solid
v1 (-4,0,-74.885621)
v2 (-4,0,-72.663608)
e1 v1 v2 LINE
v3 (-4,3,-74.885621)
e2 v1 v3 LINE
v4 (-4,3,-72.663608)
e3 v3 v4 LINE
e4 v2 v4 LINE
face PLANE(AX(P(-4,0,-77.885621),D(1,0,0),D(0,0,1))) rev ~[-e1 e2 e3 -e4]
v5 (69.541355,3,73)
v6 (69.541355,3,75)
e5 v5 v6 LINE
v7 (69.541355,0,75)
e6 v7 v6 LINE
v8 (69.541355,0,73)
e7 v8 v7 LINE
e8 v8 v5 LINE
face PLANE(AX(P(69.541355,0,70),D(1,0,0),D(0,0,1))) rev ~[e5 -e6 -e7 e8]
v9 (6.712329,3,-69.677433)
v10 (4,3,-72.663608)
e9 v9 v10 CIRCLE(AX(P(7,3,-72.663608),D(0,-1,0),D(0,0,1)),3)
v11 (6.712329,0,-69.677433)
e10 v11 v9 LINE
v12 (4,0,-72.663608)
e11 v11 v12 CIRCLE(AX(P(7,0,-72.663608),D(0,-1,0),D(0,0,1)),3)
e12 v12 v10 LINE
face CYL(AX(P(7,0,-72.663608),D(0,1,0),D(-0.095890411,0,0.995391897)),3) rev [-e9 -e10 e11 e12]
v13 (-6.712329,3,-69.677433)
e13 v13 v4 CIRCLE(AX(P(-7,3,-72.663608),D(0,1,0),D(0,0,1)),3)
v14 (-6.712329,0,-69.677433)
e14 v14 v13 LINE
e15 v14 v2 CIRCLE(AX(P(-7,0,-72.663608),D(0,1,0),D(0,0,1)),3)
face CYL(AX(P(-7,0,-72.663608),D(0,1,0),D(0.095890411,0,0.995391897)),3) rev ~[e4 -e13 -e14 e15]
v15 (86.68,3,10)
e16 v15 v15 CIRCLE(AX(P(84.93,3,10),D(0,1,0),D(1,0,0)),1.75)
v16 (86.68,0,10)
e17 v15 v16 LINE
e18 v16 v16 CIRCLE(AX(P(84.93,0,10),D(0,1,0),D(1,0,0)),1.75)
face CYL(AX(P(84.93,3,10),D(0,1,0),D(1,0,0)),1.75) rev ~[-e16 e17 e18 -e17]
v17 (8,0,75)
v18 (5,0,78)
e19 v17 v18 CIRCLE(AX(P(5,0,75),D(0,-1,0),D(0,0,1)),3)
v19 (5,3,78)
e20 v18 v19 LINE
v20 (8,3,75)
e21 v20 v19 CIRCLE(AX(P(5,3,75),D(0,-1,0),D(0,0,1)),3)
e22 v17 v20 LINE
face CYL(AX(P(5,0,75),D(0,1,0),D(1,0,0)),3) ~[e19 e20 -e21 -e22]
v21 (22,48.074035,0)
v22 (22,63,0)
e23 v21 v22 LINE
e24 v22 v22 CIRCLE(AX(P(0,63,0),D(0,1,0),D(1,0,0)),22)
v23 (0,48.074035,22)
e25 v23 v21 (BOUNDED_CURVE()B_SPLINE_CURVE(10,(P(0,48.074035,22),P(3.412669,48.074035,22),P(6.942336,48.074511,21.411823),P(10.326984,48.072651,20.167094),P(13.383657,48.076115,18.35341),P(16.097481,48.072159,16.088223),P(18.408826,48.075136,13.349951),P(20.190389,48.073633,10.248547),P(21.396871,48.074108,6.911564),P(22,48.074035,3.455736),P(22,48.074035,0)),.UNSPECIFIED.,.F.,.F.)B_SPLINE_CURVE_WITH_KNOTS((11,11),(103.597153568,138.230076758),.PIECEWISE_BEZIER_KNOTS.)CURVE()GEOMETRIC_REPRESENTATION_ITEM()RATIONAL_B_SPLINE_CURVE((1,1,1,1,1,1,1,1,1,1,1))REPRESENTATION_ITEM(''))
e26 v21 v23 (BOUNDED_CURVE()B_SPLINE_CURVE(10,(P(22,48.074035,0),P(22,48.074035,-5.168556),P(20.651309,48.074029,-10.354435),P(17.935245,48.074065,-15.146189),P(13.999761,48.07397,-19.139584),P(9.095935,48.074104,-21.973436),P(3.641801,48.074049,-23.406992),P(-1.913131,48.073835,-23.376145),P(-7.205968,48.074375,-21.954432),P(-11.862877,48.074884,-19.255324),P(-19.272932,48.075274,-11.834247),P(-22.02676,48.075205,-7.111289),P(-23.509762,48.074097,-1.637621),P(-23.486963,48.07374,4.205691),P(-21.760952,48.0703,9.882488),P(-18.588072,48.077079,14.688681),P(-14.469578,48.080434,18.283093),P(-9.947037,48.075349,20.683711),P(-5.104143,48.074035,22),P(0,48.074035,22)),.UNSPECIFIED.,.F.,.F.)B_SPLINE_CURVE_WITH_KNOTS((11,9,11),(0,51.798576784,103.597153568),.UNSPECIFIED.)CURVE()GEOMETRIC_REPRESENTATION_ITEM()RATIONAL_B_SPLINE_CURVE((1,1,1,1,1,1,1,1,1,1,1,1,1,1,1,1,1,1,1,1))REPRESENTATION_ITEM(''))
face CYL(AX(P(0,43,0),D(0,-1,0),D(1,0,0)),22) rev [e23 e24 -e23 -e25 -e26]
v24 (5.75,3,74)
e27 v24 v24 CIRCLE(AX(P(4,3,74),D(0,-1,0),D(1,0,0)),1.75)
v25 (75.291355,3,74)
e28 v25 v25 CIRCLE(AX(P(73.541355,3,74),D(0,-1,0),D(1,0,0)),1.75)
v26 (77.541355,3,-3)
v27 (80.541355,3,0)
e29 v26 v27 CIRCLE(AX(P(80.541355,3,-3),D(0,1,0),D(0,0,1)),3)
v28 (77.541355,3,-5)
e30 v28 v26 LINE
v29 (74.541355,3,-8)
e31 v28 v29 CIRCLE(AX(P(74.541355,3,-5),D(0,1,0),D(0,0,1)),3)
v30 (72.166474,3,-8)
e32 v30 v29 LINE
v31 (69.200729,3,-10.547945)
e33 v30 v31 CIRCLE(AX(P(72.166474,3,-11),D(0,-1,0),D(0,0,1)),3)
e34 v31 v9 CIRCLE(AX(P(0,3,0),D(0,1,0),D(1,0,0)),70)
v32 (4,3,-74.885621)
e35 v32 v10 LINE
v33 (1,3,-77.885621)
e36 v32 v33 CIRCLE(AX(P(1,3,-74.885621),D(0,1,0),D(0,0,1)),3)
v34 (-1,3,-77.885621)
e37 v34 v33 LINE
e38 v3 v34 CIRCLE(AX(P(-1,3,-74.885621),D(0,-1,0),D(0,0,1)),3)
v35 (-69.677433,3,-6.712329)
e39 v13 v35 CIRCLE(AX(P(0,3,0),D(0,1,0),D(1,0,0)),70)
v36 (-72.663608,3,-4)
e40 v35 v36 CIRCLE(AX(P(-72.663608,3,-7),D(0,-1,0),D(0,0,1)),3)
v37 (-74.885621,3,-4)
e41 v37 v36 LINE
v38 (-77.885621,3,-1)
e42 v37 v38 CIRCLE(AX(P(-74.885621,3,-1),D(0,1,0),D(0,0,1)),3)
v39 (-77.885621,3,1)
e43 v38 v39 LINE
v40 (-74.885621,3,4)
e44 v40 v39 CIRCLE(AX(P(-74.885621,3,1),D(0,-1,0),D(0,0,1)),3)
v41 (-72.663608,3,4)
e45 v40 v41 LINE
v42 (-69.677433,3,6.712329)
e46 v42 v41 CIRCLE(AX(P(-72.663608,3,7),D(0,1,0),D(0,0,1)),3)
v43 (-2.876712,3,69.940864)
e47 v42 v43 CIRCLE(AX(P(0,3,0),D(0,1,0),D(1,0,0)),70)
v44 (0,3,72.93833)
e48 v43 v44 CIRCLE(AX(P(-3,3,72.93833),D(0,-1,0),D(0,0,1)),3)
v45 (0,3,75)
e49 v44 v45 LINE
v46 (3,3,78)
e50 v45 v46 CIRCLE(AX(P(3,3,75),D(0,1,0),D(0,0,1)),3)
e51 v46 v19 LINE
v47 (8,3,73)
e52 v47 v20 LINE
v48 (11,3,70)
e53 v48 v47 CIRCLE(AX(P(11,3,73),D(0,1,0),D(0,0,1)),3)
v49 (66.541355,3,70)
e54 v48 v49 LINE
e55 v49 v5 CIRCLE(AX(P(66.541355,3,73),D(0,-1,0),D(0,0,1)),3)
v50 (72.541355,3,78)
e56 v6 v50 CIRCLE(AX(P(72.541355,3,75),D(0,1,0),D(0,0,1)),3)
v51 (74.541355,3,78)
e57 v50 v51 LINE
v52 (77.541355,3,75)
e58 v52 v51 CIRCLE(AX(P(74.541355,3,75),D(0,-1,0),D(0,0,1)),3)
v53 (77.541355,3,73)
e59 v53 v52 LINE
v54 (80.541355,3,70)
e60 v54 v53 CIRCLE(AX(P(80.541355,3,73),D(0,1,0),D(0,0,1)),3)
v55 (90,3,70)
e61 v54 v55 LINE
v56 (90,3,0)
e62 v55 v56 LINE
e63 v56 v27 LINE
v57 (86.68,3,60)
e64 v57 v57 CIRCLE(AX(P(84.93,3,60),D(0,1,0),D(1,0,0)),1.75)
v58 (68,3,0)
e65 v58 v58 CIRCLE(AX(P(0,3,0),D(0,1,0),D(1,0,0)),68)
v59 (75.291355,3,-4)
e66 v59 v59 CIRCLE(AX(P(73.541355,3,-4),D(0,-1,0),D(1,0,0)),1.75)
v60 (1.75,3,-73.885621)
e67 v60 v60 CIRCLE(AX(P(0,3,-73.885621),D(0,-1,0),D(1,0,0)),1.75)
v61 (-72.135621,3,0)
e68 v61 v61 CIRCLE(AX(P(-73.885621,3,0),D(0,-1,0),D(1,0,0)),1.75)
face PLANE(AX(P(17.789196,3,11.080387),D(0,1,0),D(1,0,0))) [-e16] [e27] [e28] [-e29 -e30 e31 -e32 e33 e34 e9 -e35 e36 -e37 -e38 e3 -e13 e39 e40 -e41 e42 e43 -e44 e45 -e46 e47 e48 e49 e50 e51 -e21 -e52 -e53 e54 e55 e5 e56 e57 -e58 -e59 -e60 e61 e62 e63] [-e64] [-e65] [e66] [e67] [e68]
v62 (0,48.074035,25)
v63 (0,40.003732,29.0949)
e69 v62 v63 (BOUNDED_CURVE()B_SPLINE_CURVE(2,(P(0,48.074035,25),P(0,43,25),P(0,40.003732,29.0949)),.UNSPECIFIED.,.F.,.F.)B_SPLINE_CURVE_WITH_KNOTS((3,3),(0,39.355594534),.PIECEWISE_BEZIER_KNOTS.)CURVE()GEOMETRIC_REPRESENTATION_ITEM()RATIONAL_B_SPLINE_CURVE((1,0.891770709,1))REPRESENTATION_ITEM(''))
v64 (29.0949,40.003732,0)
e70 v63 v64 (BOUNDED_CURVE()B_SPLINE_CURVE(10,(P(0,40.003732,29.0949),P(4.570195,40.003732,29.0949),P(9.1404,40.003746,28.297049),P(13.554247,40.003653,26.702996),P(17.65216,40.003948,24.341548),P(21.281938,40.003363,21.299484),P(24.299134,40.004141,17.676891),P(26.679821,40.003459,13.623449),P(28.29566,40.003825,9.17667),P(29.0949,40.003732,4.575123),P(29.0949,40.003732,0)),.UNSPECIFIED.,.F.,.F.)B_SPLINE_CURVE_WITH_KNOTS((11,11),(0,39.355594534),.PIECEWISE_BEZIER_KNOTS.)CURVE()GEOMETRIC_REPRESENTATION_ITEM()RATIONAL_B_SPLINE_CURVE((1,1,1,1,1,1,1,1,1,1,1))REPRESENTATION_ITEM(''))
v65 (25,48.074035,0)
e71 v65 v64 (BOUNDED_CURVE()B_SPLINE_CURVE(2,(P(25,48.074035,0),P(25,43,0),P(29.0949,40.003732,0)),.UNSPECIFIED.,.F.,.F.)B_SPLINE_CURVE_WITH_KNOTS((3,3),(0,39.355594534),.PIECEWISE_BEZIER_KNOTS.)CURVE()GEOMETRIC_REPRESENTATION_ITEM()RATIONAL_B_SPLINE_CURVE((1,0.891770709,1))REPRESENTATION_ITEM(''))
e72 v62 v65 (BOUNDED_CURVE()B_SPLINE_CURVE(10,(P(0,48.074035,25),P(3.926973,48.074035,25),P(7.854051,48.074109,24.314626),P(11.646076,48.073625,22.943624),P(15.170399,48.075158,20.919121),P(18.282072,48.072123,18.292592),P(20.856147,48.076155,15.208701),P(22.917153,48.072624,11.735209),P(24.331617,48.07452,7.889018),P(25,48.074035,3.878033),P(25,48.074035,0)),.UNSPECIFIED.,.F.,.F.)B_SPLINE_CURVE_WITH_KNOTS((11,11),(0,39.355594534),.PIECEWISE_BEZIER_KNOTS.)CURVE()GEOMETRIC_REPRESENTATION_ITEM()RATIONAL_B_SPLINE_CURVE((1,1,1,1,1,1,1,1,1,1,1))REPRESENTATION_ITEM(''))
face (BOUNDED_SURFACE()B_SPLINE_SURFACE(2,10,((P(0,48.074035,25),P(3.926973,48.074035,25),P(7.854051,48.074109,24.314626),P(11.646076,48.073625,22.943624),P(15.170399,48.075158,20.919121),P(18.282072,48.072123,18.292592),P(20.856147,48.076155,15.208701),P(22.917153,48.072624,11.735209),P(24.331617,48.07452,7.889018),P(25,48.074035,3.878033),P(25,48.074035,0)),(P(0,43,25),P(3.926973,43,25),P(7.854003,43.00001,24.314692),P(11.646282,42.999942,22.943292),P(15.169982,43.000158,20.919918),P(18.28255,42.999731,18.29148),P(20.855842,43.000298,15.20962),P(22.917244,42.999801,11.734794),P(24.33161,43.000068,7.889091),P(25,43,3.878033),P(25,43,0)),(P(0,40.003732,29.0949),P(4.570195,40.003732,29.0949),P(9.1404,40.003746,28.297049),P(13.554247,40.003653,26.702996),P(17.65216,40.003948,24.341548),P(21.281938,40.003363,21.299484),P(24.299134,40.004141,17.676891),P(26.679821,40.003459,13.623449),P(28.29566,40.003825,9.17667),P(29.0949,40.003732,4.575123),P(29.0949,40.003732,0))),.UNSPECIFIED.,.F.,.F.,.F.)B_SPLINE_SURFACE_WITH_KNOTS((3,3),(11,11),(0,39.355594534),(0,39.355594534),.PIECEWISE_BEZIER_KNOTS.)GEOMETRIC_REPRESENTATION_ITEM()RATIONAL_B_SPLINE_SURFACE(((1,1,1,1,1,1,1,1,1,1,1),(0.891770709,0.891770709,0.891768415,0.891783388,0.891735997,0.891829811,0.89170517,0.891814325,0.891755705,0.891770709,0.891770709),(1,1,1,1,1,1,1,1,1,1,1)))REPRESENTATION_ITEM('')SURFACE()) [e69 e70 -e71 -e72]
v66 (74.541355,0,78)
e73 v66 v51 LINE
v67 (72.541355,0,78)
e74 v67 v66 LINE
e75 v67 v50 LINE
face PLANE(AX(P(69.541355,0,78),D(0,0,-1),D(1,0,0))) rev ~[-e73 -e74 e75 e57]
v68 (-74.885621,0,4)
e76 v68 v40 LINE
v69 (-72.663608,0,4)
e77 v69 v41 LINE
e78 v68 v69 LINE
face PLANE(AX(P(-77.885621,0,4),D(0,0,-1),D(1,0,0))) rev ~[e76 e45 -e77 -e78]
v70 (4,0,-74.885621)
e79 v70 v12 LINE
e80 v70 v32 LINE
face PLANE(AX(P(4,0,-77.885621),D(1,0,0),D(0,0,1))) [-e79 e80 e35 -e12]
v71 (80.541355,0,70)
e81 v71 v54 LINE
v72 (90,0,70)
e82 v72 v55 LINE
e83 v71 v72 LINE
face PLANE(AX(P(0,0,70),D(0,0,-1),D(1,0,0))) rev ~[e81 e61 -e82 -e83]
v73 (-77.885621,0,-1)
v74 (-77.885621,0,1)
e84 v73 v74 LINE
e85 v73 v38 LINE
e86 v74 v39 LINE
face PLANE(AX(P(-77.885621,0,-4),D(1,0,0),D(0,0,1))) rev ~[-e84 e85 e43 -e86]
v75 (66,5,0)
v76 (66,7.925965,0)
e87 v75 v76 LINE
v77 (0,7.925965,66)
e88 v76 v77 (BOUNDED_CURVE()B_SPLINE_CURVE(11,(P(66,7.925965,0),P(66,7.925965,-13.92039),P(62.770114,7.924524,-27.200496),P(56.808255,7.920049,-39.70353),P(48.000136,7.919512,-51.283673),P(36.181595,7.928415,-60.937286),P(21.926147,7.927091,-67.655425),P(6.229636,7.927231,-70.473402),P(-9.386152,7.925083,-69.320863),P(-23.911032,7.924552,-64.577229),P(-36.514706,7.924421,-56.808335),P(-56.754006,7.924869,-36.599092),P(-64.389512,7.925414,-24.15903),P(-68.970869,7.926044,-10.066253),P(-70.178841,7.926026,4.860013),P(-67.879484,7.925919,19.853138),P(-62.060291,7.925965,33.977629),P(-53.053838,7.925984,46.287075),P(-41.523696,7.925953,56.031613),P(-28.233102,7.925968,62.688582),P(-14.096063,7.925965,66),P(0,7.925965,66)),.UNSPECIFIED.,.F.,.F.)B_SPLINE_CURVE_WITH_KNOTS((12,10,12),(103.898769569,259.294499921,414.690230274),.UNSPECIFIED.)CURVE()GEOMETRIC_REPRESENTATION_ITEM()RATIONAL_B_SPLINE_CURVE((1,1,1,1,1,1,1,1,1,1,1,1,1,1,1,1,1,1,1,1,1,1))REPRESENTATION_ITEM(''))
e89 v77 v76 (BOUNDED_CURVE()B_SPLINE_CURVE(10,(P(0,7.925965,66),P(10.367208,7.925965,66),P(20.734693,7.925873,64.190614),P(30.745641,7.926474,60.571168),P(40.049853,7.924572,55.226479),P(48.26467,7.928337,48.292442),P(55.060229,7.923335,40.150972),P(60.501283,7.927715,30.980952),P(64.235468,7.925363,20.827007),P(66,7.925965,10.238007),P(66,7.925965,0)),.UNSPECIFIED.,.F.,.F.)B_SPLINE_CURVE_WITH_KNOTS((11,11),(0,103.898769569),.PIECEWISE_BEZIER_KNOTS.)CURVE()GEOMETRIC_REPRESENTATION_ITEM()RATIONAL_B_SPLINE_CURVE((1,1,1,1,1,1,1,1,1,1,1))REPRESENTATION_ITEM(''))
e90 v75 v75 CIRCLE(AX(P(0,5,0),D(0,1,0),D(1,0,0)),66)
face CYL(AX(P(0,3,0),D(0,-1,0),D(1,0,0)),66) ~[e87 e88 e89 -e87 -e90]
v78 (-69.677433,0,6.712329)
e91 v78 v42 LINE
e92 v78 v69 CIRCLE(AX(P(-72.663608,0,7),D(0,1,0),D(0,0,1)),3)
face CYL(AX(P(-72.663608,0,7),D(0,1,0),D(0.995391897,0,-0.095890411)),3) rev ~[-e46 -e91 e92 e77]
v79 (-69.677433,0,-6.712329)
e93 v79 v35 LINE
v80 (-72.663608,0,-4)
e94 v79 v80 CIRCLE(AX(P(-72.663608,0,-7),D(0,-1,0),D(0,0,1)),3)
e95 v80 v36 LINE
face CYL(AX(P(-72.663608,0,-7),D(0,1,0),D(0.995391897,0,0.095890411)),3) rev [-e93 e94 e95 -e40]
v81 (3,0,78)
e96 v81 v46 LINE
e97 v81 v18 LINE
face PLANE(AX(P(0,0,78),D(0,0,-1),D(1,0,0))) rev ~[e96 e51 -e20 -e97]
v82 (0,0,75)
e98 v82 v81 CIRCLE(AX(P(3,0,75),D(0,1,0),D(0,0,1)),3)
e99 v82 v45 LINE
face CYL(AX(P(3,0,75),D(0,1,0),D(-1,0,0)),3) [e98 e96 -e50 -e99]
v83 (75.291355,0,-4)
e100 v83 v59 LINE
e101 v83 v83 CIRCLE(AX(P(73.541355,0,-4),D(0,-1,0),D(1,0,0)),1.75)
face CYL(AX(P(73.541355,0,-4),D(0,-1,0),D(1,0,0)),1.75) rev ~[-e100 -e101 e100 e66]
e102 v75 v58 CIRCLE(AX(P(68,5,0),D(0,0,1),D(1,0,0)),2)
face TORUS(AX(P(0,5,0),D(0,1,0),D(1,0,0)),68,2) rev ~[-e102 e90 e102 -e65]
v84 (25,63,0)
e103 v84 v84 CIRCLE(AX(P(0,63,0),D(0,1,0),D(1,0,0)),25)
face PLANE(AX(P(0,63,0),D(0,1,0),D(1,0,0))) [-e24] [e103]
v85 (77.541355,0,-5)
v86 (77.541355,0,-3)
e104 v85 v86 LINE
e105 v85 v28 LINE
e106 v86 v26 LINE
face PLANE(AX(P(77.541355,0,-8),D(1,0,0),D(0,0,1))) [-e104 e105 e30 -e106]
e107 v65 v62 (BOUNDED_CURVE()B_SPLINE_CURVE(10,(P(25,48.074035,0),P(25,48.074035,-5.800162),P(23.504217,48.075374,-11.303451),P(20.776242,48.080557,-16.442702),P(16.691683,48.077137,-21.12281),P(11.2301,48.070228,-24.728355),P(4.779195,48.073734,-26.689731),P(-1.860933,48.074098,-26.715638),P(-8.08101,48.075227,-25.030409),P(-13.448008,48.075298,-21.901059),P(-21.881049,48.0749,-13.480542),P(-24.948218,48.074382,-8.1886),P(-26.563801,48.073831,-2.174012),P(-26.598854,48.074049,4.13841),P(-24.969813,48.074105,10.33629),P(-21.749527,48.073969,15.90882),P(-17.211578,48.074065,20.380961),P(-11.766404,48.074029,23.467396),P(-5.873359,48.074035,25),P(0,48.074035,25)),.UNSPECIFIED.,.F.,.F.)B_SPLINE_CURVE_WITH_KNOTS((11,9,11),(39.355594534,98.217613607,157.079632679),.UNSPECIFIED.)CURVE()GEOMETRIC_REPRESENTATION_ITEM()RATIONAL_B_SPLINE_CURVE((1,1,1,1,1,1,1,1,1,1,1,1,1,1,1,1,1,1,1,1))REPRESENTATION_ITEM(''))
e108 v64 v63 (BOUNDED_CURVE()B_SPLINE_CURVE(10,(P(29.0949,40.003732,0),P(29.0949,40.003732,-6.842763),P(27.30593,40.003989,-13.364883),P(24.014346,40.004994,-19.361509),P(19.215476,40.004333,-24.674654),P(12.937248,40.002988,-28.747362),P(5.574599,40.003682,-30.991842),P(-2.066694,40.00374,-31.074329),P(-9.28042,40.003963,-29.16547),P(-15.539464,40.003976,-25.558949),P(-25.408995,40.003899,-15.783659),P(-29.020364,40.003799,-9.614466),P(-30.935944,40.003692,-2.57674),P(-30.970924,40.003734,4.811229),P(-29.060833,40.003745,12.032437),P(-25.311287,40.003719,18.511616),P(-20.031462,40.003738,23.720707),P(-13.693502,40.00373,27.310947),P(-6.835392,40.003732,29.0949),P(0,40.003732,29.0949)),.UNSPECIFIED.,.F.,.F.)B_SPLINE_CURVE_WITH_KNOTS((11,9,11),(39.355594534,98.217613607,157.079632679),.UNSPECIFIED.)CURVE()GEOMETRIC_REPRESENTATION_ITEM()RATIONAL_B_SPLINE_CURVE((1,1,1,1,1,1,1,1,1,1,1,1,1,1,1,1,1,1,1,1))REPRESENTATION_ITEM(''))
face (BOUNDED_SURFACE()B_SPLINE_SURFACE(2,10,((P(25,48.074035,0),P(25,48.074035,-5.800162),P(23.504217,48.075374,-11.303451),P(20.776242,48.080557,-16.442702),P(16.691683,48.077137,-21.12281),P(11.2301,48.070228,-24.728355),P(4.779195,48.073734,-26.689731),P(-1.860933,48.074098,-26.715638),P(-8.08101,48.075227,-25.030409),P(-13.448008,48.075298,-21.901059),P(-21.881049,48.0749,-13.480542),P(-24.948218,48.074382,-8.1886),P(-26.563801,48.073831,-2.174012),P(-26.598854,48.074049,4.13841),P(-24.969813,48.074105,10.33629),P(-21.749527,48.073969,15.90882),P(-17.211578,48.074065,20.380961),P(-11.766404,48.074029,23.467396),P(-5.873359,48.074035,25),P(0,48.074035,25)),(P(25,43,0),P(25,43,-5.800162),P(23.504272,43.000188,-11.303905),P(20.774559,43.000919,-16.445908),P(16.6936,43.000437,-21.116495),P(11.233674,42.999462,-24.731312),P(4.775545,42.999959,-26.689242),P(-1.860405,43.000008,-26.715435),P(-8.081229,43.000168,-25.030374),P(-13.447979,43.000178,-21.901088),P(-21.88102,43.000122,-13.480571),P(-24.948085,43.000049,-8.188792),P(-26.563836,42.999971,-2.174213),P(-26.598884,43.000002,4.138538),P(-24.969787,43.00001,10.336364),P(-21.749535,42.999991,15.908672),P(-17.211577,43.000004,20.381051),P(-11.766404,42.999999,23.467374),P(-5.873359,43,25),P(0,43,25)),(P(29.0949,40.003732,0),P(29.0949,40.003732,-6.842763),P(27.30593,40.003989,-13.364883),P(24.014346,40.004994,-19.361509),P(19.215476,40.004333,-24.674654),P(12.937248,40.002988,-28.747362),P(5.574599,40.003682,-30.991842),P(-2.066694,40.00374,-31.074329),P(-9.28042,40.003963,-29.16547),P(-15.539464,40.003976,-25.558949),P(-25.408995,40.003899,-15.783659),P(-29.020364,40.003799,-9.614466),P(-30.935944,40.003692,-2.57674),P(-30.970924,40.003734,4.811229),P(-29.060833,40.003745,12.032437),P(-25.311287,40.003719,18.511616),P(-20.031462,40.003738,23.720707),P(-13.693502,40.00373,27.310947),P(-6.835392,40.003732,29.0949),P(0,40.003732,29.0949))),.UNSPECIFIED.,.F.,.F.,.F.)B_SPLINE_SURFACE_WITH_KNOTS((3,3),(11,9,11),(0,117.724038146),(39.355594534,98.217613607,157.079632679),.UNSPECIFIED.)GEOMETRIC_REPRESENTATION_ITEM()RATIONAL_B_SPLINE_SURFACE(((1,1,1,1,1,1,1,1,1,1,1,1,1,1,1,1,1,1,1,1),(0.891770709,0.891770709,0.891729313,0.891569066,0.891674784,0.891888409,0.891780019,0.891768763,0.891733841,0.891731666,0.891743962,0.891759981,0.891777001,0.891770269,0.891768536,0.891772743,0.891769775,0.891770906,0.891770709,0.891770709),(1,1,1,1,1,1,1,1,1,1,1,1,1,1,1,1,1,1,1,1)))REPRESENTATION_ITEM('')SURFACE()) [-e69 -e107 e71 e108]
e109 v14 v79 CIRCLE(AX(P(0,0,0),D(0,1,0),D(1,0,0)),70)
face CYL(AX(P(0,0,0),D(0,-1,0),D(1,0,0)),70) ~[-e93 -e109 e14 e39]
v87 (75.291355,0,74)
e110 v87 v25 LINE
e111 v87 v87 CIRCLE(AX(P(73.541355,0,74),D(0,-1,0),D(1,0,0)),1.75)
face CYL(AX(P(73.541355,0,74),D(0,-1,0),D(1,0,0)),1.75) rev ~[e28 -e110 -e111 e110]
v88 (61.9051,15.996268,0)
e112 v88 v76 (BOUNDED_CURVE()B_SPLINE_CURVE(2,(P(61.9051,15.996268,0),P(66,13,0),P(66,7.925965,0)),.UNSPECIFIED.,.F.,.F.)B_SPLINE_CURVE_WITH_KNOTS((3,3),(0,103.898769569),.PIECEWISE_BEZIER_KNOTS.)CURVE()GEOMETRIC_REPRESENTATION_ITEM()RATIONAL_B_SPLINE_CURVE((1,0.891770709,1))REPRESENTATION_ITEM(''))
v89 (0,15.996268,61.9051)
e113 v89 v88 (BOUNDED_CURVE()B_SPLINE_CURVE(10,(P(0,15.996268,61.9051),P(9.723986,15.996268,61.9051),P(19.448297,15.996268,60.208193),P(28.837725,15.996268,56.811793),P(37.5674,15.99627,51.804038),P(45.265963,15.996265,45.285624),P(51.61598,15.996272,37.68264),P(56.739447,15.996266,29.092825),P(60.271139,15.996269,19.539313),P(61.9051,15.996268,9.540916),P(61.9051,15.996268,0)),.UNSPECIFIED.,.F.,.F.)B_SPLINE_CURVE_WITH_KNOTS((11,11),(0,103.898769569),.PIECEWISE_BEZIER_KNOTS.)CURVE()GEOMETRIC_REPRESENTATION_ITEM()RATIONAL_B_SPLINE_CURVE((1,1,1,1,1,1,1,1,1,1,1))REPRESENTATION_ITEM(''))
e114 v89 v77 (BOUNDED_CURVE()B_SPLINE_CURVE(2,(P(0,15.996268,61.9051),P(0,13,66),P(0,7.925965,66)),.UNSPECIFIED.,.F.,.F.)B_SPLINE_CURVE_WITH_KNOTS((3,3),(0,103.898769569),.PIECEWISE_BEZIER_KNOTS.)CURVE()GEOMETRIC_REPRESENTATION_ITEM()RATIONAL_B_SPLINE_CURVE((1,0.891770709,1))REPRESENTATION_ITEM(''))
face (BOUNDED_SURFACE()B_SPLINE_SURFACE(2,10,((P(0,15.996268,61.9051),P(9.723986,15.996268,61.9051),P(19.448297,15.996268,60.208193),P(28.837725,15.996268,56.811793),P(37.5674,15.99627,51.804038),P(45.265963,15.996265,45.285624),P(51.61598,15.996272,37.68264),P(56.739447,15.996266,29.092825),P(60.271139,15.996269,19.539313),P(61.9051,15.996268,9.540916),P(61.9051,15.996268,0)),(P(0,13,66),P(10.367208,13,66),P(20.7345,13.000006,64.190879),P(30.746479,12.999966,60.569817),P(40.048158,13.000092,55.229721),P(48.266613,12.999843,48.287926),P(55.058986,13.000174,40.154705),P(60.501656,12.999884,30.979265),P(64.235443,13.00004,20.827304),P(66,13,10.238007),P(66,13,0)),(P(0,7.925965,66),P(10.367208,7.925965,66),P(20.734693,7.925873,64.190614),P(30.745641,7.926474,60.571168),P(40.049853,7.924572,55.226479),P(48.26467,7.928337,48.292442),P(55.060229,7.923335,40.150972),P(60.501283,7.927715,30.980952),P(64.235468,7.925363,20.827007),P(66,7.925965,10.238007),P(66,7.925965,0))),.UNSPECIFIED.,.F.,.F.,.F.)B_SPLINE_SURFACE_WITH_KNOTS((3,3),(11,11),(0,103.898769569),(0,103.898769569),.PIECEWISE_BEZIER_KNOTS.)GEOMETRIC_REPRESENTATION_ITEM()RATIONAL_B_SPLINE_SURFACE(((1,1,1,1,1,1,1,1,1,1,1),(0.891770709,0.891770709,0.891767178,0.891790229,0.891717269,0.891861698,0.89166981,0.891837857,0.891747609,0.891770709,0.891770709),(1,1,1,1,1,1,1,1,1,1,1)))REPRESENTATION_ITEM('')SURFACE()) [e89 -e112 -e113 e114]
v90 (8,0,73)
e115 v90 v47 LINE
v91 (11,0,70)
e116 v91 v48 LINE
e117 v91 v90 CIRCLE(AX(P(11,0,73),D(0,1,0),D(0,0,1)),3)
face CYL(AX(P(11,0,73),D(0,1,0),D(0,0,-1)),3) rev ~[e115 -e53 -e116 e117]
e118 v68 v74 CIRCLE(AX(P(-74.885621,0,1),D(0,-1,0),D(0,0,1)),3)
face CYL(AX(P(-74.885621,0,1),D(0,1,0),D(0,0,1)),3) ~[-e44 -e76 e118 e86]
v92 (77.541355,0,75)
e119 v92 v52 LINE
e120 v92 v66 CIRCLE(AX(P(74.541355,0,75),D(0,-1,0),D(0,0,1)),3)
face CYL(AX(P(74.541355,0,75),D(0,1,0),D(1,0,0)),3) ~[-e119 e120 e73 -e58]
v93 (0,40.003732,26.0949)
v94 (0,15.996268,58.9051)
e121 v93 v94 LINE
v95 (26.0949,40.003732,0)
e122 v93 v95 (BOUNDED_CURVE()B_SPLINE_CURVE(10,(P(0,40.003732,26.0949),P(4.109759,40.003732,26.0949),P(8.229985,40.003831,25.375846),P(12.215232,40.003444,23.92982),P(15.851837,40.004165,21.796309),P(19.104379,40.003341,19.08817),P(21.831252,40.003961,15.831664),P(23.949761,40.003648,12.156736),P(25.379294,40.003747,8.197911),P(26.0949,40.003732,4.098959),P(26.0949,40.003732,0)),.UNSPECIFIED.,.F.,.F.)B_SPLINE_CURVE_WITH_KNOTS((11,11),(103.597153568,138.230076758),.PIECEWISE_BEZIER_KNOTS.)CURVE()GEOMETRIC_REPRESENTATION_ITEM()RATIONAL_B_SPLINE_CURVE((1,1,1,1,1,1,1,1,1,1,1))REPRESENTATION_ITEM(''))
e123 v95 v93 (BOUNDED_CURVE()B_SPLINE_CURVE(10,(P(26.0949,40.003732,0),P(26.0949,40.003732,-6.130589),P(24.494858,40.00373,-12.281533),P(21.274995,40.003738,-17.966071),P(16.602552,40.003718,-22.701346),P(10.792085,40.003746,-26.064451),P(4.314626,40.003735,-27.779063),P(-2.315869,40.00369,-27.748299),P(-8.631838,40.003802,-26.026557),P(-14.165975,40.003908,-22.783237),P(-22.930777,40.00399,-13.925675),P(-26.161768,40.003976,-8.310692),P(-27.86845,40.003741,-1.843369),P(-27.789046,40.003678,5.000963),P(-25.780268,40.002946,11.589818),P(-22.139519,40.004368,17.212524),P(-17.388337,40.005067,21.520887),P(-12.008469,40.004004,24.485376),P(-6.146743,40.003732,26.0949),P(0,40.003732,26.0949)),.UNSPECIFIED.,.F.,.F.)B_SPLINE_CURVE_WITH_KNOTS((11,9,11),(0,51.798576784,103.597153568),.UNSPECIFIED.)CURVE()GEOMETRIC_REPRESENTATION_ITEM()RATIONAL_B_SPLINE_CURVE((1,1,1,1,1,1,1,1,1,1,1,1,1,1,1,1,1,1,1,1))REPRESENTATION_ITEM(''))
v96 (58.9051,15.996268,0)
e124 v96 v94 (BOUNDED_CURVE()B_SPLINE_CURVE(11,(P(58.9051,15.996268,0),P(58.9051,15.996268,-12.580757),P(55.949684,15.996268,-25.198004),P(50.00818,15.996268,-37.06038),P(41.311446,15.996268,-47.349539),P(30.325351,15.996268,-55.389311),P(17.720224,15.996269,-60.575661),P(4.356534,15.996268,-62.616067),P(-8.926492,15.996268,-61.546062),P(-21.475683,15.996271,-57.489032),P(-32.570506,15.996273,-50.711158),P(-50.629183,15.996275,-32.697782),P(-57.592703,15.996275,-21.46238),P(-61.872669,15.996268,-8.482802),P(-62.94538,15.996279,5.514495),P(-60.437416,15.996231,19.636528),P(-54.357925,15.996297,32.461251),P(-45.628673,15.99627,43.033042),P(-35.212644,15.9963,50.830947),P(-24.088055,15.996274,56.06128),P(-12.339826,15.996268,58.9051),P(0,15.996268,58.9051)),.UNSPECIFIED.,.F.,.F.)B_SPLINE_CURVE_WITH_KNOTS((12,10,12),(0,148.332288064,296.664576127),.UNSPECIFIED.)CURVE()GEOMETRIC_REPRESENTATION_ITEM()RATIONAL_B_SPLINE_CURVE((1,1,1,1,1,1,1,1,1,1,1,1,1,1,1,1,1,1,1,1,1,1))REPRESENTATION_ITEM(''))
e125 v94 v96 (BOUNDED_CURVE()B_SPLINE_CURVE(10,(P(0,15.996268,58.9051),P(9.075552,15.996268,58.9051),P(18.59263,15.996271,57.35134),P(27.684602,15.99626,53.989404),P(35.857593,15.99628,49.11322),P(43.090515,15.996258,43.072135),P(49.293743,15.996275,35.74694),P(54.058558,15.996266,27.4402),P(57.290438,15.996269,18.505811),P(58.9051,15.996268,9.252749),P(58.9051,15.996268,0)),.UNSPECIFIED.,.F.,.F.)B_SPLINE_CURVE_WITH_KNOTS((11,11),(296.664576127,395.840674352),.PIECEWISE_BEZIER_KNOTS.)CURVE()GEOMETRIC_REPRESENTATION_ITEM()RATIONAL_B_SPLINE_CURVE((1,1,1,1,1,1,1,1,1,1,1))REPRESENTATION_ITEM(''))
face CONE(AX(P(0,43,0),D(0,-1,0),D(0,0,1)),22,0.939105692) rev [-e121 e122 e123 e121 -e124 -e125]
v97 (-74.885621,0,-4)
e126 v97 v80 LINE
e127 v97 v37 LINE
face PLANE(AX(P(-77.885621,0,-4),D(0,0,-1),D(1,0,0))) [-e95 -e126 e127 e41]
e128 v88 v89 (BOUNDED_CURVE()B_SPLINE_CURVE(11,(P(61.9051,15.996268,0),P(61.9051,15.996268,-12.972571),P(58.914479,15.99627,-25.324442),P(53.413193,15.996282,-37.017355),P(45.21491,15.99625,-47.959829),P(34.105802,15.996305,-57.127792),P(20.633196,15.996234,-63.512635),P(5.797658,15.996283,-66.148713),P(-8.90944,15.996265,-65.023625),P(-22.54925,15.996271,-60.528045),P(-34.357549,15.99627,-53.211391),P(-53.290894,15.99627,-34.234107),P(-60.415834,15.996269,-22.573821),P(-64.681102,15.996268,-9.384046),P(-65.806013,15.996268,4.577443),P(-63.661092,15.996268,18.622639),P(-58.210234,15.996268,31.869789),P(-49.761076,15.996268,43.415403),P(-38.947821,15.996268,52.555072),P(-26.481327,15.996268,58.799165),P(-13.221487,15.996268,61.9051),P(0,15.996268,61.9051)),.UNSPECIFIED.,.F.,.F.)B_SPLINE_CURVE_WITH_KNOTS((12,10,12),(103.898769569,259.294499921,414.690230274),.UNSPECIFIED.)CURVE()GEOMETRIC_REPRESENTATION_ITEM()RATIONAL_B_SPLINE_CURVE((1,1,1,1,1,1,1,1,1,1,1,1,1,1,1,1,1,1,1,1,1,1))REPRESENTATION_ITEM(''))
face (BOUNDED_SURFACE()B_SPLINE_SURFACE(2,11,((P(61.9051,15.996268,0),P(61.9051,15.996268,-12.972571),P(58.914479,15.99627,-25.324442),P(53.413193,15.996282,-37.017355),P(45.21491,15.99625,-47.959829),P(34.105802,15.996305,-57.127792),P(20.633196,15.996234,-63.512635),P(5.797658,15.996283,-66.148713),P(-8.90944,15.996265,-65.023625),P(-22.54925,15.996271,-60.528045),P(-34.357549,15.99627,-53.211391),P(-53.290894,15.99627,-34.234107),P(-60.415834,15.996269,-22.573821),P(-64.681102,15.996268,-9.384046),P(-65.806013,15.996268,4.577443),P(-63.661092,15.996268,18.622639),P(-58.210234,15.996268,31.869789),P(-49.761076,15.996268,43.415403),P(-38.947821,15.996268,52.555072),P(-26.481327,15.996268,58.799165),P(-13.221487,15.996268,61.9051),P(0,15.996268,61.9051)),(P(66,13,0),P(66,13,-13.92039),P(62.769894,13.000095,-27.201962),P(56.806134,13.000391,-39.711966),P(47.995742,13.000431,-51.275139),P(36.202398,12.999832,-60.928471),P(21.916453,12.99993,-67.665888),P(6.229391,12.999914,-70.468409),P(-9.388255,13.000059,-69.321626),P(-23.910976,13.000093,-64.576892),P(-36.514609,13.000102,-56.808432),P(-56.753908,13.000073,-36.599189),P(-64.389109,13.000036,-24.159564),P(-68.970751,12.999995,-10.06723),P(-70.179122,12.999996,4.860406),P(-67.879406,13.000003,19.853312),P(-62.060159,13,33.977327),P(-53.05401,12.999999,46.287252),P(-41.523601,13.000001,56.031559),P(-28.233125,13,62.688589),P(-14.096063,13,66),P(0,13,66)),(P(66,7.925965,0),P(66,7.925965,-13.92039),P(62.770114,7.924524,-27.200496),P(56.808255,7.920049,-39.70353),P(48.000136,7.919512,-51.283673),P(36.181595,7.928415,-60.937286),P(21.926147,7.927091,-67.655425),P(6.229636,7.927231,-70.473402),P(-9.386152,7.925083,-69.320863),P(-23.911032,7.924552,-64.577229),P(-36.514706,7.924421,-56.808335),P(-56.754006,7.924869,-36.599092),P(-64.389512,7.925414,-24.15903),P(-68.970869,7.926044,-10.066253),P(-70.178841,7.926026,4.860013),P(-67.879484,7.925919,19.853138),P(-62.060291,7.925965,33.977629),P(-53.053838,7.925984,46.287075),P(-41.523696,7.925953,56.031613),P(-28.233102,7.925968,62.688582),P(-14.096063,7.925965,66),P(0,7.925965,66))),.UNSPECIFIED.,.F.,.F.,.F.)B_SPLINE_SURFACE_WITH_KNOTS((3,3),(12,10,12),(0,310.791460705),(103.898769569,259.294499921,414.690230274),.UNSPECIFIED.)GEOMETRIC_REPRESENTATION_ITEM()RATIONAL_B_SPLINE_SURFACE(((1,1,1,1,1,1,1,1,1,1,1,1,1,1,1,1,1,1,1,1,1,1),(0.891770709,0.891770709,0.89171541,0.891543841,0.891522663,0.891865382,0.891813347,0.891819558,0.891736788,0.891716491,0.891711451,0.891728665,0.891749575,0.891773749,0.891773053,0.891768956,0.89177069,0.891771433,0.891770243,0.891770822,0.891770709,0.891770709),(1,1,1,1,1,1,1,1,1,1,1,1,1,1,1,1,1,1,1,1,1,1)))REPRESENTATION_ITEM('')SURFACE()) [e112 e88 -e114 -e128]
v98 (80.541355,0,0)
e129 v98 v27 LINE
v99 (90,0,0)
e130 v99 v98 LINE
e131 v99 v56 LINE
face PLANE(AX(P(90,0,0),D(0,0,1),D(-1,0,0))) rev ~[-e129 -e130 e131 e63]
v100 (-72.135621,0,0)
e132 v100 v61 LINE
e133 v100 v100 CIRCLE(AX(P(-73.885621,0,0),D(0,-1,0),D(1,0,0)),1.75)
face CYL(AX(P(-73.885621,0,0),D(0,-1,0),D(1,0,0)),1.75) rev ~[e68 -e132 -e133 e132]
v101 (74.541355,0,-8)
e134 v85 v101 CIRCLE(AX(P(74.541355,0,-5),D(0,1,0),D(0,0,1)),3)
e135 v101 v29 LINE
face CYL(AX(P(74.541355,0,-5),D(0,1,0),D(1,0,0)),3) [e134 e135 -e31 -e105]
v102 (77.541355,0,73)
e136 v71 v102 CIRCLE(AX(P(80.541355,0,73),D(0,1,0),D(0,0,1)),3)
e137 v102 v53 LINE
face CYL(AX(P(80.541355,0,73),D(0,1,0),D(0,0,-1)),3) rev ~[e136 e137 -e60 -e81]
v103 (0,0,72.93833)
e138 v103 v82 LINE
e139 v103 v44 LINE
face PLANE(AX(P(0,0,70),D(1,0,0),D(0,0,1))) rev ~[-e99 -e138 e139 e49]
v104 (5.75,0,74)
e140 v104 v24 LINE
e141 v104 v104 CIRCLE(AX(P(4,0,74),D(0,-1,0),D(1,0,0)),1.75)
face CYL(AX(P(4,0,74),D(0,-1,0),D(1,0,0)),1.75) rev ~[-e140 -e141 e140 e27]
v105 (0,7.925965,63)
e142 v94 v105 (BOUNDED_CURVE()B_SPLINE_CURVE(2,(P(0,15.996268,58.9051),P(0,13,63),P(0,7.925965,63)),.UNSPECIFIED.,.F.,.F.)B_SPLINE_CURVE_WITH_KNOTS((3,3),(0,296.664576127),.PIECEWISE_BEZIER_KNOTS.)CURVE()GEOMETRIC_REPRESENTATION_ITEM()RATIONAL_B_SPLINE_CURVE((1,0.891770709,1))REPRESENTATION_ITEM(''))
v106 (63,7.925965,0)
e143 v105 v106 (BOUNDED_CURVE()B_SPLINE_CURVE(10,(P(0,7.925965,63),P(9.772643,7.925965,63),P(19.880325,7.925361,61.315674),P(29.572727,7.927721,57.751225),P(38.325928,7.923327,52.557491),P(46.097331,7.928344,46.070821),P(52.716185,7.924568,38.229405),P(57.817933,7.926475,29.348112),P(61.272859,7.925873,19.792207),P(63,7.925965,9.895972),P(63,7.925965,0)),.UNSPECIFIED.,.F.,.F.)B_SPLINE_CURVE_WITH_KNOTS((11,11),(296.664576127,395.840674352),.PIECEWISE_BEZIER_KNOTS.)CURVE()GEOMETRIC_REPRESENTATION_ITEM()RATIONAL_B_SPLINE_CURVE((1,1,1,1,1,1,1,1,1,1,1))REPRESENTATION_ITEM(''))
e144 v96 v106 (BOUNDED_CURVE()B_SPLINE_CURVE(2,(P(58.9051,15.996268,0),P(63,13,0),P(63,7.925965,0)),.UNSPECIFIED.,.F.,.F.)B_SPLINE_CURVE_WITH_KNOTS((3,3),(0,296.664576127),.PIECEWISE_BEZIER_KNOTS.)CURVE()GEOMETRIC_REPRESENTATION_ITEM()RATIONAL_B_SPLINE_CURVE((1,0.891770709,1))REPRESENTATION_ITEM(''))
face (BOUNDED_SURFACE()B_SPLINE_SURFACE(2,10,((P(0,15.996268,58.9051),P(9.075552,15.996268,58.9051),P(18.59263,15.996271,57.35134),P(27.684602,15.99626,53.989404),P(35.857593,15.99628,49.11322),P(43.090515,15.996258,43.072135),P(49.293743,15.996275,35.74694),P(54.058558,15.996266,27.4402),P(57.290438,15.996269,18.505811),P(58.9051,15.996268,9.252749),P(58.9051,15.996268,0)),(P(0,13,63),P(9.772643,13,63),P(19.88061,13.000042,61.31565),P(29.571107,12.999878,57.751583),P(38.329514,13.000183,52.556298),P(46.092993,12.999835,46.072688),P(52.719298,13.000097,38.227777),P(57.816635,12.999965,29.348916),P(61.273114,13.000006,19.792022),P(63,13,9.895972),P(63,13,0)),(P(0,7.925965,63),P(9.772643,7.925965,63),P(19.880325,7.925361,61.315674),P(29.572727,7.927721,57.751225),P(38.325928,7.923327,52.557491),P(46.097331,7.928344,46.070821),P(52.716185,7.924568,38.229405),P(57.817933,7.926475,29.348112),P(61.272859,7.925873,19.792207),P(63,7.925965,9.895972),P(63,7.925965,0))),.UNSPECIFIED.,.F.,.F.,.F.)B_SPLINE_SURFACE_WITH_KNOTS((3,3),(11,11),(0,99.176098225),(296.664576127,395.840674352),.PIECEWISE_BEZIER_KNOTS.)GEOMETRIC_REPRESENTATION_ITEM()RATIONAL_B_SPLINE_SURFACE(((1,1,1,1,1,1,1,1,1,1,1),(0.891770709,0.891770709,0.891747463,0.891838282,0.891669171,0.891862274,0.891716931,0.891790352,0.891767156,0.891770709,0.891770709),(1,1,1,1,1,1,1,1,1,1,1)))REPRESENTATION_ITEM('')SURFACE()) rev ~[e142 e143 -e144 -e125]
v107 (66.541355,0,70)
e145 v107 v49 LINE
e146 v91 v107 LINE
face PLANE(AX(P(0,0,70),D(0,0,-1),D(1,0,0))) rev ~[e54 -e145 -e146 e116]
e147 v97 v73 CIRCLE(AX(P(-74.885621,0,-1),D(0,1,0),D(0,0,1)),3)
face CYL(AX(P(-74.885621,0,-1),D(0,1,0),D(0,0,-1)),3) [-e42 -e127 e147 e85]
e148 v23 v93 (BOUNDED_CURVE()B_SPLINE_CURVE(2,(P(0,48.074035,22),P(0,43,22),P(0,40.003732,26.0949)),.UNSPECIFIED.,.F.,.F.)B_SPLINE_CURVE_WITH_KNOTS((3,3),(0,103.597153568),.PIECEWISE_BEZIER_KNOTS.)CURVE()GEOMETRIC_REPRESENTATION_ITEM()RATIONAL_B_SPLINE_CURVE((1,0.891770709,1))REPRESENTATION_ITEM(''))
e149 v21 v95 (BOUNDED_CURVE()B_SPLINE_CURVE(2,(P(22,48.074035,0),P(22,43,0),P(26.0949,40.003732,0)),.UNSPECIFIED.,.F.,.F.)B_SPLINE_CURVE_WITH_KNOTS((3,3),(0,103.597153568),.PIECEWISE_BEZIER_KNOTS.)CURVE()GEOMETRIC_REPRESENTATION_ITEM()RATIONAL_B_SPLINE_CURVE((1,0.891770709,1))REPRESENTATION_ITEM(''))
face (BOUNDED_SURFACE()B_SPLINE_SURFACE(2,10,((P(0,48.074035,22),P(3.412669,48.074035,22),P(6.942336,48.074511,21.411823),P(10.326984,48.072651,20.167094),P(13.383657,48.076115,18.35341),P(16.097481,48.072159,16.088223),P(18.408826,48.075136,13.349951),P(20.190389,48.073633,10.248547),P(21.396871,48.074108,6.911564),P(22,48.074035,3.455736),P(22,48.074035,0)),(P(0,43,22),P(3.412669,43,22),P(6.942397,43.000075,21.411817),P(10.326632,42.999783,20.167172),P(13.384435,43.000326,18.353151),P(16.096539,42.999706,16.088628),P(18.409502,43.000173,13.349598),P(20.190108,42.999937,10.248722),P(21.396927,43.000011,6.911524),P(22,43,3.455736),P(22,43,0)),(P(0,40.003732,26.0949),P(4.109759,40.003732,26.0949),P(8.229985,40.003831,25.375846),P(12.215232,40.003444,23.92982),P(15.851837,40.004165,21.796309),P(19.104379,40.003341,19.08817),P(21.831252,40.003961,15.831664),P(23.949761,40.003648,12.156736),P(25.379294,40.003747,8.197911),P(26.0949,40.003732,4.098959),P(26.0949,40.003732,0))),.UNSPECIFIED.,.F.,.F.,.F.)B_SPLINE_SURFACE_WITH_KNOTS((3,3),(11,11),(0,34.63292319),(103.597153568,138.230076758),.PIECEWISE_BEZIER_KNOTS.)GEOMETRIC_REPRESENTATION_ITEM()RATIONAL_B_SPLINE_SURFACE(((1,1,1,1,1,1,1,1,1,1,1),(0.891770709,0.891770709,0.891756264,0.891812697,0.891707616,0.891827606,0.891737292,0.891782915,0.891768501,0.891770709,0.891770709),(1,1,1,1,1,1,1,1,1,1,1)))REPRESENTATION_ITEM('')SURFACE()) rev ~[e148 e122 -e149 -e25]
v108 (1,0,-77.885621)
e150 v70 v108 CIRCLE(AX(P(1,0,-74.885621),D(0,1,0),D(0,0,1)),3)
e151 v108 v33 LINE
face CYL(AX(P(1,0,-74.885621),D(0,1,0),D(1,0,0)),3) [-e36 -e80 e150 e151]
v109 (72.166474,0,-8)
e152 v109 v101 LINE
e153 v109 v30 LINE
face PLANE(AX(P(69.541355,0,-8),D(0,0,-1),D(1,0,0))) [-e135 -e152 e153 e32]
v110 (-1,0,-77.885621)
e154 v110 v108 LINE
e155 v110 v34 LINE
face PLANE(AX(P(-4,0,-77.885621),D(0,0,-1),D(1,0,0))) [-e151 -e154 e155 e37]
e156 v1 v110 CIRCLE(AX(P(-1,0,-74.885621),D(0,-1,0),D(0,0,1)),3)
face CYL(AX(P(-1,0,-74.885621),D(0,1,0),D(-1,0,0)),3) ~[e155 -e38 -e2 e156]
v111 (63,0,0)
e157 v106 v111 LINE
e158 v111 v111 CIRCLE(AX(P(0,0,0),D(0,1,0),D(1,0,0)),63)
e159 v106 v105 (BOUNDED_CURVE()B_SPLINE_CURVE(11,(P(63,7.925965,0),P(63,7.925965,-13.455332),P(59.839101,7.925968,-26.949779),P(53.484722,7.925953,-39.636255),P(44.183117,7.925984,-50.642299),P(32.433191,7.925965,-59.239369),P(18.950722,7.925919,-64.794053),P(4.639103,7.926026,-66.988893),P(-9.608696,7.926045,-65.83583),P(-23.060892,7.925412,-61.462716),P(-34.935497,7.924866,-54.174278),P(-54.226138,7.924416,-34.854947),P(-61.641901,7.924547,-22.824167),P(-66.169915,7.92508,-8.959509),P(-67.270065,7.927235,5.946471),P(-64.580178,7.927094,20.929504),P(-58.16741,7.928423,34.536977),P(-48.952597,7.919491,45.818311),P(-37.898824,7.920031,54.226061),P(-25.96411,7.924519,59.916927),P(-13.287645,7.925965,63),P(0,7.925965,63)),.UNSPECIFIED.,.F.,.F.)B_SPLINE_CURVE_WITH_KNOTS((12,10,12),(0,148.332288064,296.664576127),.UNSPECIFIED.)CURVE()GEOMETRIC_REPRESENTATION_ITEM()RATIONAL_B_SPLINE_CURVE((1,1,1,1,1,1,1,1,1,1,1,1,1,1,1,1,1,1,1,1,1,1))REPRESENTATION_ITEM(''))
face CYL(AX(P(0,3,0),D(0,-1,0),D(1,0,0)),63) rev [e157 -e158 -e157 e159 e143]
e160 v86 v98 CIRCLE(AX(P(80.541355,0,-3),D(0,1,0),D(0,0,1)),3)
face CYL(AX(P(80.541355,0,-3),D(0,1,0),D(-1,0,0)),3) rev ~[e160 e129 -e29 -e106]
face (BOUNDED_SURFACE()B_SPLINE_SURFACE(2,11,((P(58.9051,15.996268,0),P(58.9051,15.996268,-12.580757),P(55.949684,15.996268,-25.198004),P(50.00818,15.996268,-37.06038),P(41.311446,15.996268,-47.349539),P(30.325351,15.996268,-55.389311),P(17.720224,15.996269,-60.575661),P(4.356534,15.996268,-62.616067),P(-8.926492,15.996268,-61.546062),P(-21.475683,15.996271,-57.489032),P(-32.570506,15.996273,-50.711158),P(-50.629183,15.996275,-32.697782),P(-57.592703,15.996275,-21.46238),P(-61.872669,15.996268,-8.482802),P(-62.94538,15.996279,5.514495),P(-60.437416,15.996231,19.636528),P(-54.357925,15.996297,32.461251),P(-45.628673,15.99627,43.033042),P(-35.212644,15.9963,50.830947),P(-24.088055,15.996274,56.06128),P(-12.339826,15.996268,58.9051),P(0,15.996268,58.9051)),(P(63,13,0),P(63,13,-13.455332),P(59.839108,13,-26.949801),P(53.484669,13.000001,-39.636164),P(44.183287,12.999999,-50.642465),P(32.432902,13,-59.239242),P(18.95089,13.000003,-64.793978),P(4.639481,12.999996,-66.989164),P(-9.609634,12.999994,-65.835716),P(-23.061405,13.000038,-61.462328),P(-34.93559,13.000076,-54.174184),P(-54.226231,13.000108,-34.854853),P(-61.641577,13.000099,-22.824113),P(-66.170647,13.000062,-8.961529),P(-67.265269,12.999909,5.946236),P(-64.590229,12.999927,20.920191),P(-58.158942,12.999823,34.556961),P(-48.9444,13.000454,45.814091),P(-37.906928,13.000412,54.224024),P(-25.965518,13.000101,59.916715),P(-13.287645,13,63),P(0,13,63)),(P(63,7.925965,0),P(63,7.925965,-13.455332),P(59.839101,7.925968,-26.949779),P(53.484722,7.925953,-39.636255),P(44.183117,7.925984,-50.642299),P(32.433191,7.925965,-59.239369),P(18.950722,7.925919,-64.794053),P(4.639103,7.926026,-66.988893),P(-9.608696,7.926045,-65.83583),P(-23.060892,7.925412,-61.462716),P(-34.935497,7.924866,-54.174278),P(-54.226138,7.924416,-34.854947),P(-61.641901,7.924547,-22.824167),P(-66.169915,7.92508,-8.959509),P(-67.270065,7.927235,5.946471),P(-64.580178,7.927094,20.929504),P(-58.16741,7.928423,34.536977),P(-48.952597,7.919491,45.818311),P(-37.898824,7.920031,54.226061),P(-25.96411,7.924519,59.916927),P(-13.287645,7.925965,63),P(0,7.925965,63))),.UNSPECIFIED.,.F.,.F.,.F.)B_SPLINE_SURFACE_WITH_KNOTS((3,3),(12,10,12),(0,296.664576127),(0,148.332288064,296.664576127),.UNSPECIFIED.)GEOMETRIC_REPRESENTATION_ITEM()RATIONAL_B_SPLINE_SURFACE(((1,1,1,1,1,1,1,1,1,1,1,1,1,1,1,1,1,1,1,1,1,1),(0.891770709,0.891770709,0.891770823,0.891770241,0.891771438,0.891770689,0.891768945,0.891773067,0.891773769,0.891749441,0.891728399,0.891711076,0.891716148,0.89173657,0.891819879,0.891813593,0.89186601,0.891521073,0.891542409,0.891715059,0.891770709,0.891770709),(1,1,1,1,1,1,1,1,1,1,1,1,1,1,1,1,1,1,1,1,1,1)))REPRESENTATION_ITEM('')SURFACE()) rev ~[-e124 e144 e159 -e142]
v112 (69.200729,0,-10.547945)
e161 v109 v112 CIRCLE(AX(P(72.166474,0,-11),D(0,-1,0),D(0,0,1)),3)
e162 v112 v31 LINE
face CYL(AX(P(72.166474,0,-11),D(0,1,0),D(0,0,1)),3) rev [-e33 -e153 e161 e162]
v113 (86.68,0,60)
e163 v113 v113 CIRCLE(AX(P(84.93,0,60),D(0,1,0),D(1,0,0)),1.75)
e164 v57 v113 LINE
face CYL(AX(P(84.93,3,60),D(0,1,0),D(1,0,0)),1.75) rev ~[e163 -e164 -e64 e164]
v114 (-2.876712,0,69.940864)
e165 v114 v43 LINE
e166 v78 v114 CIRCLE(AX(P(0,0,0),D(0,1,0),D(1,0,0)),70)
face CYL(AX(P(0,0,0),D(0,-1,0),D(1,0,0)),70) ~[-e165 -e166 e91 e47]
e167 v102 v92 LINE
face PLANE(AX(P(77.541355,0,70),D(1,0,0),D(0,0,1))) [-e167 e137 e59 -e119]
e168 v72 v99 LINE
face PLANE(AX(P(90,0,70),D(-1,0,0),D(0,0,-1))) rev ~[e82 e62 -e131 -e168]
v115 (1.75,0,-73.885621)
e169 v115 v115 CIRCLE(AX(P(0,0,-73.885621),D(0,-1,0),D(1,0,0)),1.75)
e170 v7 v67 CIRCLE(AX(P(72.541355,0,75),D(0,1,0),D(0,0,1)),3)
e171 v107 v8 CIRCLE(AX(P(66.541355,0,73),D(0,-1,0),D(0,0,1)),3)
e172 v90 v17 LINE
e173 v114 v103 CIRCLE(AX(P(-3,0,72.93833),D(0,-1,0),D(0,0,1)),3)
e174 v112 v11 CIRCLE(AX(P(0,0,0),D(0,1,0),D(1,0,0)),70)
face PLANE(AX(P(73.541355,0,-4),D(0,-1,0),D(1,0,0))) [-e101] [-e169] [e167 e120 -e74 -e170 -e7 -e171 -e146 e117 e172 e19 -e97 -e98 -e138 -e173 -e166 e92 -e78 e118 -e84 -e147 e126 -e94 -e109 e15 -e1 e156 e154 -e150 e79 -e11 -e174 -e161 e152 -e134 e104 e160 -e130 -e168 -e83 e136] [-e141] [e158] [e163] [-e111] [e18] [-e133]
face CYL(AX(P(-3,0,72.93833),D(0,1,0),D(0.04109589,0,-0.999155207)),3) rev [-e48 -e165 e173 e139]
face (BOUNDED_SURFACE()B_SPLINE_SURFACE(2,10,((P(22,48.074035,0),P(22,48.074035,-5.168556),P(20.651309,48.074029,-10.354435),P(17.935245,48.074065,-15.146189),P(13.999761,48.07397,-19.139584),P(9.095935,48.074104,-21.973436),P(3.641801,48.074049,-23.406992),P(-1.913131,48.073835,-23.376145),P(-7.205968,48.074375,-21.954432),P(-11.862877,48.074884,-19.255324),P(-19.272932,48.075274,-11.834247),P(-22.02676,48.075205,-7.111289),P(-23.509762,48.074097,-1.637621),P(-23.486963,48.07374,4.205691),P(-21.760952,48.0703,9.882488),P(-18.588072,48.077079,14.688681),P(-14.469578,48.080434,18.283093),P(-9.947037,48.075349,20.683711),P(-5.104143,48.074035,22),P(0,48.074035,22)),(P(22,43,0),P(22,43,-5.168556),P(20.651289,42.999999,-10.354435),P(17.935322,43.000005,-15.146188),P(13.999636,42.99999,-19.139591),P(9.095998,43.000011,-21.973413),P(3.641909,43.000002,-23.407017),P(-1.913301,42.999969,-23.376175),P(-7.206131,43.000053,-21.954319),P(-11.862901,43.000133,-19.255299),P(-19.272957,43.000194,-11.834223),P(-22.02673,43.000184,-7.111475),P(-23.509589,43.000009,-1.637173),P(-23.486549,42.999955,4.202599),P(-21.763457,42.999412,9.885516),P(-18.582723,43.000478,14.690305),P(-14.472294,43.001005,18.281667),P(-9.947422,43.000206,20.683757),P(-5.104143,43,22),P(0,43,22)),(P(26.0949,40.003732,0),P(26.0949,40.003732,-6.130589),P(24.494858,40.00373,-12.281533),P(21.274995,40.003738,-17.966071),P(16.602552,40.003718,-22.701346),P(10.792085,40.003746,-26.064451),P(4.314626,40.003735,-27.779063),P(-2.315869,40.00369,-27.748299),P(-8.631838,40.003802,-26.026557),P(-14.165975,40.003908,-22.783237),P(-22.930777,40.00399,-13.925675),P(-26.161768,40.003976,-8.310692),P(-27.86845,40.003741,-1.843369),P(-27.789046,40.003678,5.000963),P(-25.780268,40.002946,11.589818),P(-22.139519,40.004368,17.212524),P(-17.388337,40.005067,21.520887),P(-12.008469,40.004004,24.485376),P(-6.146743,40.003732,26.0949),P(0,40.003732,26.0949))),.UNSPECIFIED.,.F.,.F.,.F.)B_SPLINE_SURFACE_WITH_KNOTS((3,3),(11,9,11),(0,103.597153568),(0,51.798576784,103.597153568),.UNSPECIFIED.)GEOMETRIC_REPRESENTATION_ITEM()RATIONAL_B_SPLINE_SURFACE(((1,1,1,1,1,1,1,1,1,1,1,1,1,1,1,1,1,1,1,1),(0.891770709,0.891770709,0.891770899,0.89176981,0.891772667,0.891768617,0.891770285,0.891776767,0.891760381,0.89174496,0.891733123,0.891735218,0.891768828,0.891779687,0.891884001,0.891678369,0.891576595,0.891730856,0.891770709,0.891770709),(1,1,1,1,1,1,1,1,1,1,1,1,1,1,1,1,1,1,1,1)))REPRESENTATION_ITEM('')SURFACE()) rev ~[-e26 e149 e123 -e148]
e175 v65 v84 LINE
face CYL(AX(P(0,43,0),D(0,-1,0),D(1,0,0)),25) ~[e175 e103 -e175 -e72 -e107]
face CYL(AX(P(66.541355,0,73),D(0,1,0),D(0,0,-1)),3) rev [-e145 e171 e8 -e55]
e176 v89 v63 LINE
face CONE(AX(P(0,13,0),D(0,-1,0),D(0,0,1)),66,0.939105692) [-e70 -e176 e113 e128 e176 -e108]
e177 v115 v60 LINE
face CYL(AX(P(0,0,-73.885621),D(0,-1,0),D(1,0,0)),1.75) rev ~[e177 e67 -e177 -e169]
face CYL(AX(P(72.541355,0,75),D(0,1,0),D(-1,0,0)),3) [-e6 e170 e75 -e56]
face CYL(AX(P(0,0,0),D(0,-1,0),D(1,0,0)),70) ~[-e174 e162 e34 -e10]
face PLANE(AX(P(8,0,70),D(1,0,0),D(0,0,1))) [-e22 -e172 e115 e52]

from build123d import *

# Parameters (mm, degrees)
SKETCH2_R           = 63
BOSS_EXTRUDE1_DEPTH = 3
SKETCH3_R           = 66
SKETCH3_R_2         = 63
BOSS_EXTRUDE2_DEPTH = 10
SKETCH7_R           = 25
SKETCH7_R_2         = 22
BOSS_EXTRUDE3_DEPTH = 20
FILLET1_R           = 10
FILLET2_R           = 2
SKETCH8_W           = 8
SKETCH8_H           = 8
SKETCH8_R           = 1.75
BOSS_EXTRUDE4_DEPTH = 3
FILLET3_R           = 3
SKETCH9_R           = 1.75
CUT_EXTRUDE1_DEPTH  = 4.0000001


with BuildPart() as part:
    # Sketch2 → Boss-Extrude1 (new body)
    with BuildSketch(Plane(origin=(0, 0, 0), x_dir=(1, 0, 0), z_dir=(0, 1, 0))):
        with BuildLine():
            Line((0, -70), (90, -70))
            Line((90, -70), (90, 0))
            Line((90, 0), (70, 0))
            ThreePointArc((70, 0), (-49.497474683, 49.497474683), (0, -70))
        make_face()
        Circle(SKETCH2_R, mode=Mode.SUBTRACT)
    extrude(amount=BOSS_EXTRUDE1_DEPTH)

    # Sketch3 → Boss-Extrude2 (add)
    with BuildSketch(Plane(origin=(0, 3, 0), x_dir=(1, 0, 0), z_dir=(0, 1, 0))):
        Circle(SKETCH3_R)
        Circle(SKETCH3_R_2, mode=Mode.SUBTRACT)
    extrude(amount=BOSS_EXTRUDE2_DEPTH)

    # Sketch6 → Revolve1 (revolve)
    with BuildSketch(Plane(origin=(0, 0, 0), x_dir=(0, 0, -1), z_dir=(1, 0, 0))):
        Polygon((-66, 13), (-25, 43), (-22, 43), (-63, 13), align=None)
    revolve(axis=Axis((0, 0, 0), (0, 1, 0)))

    # Sketch7 → Boss-Extrude3 (add)
    with BuildSketch(Plane(origin=(0, 43, 0), x_dir=(1, 0, 0), z_dir=(0, 1, 0))):
        Circle(SKETCH7_R)
        Circle(SKETCH7_R_2, mode=Mode.SUBTRACT)
    extrude(amount=BOSS_EXTRUDE3_DEPTH)

    # Fillet1
    fillet1_edges = [part.edges().sort_by_distance(p)[0] for p in [
        (46.669047558, 13, 46.669047558),
        (-15.556349186, 43, -15.556349186),
        (-44.547727215, 13, -44.547727215),
        (17.67766953, 43, 17.67766953),
    ]]
    fillet(fillet1_edges, radius=FILLET1_R)

    # Fillet2
    fillet2_edges = [part.edges().sort_by_distance(p)[0] for p in [
        (-66, 3, 0),
    ]]
    fillet(fillet2_edges, radius=FILLET2_R)

    # Sketch8 → Boss-Extrude4 (add)
    with BuildSketch(Plane.XZ):
        with Locations((73.541354603, -4)):
            Rectangle(SKETCH8_W, SKETCH8_H)
        with Locations((73.541354603, -4)):
            Circle(SKETCH8_R, mode=Mode.SUBTRACT)
        with Locations((73.541354603, 74)):
            Rectangle(SKETCH8_W, SKETCH8_H)
        with Locations((73.541354603, 74)):
            Circle(SKETCH8_R, mode=Mode.SUBTRACT)
        with Locations((-73.885620839, 0)):
            Rectangle(SKETCH8_W, SKETCH8_H)
        with Locations((-73.885620839, 0)):
            Circle(SKETCH8_R, mode=Mode.SUBTRACT)
        with Locations((0, -73.885620839)):
            Rectangle(SKETCH8_W, SKETCH8_H)
        with Locations((0, -73.885620839)):
            Circle(SKETCH8_R, mode=Mode.SUBTRACT)
        with Locations((4, 74)):
            Rectangle(SKETCH8_W, SKETCH8_H)
        with Locations((4, 74)):
            Circle(SKETCH8_R, mode=Mode.SUBTRACT)
    extrude(amount=-BOSS_EXTRUDE4_DEPTH)

    # Fillet3
    fillet3_edges = [part.edges().sort_by_distance(p)[0] for p in [
        (-4, 1.5, -77.885620839),
        (-4, 1.5, -69.885620839),
        (4, 1.5, -69.885620839),
        (4, 1.5, -77.885620839),
        (0, 1.5, 78),
        (8, 1.5, 78),
        (8, 1.5, 70),
        (77.541354603, 1.5, 0),
        (77.541354603, 1.5, -8),
        (69.541354603, 1.5, -8),
        (77.541354603, 1.5, 78),
        (77.541354603, 1.5, 70),
        (69.541354603, 1.5, 70),
        (69.541354603, 1.5, 78),
        (0, 1.5, 70),
        (-69.885620839, 1.5, 4),
        (-69.885620839, 1.5, -4),
        (-77.885620839, 1.5, -4),
        (-77.885620839, 1.5, 4),
    ]]
    fillet(fillet3_edges, radius=FILLET3_R)

    # Sketch9 → Cut-Extrude1 (cut, through all)
    with BuildSketch(Plane(origin=(0, 3, 0), x_dir=(1, 0, 0), z_dir=(0, 1, 0))):
        with Locations((84.93, -10)):
            Circle(SKETCH9_R)
        with Locations((84.93, -60)):
            Circle(SKETCH9_R)
    extrude(amount=-CUT_EXTRUDE1_DEPTH, mode=Mode.SUBTRACT)


solid = part.part
